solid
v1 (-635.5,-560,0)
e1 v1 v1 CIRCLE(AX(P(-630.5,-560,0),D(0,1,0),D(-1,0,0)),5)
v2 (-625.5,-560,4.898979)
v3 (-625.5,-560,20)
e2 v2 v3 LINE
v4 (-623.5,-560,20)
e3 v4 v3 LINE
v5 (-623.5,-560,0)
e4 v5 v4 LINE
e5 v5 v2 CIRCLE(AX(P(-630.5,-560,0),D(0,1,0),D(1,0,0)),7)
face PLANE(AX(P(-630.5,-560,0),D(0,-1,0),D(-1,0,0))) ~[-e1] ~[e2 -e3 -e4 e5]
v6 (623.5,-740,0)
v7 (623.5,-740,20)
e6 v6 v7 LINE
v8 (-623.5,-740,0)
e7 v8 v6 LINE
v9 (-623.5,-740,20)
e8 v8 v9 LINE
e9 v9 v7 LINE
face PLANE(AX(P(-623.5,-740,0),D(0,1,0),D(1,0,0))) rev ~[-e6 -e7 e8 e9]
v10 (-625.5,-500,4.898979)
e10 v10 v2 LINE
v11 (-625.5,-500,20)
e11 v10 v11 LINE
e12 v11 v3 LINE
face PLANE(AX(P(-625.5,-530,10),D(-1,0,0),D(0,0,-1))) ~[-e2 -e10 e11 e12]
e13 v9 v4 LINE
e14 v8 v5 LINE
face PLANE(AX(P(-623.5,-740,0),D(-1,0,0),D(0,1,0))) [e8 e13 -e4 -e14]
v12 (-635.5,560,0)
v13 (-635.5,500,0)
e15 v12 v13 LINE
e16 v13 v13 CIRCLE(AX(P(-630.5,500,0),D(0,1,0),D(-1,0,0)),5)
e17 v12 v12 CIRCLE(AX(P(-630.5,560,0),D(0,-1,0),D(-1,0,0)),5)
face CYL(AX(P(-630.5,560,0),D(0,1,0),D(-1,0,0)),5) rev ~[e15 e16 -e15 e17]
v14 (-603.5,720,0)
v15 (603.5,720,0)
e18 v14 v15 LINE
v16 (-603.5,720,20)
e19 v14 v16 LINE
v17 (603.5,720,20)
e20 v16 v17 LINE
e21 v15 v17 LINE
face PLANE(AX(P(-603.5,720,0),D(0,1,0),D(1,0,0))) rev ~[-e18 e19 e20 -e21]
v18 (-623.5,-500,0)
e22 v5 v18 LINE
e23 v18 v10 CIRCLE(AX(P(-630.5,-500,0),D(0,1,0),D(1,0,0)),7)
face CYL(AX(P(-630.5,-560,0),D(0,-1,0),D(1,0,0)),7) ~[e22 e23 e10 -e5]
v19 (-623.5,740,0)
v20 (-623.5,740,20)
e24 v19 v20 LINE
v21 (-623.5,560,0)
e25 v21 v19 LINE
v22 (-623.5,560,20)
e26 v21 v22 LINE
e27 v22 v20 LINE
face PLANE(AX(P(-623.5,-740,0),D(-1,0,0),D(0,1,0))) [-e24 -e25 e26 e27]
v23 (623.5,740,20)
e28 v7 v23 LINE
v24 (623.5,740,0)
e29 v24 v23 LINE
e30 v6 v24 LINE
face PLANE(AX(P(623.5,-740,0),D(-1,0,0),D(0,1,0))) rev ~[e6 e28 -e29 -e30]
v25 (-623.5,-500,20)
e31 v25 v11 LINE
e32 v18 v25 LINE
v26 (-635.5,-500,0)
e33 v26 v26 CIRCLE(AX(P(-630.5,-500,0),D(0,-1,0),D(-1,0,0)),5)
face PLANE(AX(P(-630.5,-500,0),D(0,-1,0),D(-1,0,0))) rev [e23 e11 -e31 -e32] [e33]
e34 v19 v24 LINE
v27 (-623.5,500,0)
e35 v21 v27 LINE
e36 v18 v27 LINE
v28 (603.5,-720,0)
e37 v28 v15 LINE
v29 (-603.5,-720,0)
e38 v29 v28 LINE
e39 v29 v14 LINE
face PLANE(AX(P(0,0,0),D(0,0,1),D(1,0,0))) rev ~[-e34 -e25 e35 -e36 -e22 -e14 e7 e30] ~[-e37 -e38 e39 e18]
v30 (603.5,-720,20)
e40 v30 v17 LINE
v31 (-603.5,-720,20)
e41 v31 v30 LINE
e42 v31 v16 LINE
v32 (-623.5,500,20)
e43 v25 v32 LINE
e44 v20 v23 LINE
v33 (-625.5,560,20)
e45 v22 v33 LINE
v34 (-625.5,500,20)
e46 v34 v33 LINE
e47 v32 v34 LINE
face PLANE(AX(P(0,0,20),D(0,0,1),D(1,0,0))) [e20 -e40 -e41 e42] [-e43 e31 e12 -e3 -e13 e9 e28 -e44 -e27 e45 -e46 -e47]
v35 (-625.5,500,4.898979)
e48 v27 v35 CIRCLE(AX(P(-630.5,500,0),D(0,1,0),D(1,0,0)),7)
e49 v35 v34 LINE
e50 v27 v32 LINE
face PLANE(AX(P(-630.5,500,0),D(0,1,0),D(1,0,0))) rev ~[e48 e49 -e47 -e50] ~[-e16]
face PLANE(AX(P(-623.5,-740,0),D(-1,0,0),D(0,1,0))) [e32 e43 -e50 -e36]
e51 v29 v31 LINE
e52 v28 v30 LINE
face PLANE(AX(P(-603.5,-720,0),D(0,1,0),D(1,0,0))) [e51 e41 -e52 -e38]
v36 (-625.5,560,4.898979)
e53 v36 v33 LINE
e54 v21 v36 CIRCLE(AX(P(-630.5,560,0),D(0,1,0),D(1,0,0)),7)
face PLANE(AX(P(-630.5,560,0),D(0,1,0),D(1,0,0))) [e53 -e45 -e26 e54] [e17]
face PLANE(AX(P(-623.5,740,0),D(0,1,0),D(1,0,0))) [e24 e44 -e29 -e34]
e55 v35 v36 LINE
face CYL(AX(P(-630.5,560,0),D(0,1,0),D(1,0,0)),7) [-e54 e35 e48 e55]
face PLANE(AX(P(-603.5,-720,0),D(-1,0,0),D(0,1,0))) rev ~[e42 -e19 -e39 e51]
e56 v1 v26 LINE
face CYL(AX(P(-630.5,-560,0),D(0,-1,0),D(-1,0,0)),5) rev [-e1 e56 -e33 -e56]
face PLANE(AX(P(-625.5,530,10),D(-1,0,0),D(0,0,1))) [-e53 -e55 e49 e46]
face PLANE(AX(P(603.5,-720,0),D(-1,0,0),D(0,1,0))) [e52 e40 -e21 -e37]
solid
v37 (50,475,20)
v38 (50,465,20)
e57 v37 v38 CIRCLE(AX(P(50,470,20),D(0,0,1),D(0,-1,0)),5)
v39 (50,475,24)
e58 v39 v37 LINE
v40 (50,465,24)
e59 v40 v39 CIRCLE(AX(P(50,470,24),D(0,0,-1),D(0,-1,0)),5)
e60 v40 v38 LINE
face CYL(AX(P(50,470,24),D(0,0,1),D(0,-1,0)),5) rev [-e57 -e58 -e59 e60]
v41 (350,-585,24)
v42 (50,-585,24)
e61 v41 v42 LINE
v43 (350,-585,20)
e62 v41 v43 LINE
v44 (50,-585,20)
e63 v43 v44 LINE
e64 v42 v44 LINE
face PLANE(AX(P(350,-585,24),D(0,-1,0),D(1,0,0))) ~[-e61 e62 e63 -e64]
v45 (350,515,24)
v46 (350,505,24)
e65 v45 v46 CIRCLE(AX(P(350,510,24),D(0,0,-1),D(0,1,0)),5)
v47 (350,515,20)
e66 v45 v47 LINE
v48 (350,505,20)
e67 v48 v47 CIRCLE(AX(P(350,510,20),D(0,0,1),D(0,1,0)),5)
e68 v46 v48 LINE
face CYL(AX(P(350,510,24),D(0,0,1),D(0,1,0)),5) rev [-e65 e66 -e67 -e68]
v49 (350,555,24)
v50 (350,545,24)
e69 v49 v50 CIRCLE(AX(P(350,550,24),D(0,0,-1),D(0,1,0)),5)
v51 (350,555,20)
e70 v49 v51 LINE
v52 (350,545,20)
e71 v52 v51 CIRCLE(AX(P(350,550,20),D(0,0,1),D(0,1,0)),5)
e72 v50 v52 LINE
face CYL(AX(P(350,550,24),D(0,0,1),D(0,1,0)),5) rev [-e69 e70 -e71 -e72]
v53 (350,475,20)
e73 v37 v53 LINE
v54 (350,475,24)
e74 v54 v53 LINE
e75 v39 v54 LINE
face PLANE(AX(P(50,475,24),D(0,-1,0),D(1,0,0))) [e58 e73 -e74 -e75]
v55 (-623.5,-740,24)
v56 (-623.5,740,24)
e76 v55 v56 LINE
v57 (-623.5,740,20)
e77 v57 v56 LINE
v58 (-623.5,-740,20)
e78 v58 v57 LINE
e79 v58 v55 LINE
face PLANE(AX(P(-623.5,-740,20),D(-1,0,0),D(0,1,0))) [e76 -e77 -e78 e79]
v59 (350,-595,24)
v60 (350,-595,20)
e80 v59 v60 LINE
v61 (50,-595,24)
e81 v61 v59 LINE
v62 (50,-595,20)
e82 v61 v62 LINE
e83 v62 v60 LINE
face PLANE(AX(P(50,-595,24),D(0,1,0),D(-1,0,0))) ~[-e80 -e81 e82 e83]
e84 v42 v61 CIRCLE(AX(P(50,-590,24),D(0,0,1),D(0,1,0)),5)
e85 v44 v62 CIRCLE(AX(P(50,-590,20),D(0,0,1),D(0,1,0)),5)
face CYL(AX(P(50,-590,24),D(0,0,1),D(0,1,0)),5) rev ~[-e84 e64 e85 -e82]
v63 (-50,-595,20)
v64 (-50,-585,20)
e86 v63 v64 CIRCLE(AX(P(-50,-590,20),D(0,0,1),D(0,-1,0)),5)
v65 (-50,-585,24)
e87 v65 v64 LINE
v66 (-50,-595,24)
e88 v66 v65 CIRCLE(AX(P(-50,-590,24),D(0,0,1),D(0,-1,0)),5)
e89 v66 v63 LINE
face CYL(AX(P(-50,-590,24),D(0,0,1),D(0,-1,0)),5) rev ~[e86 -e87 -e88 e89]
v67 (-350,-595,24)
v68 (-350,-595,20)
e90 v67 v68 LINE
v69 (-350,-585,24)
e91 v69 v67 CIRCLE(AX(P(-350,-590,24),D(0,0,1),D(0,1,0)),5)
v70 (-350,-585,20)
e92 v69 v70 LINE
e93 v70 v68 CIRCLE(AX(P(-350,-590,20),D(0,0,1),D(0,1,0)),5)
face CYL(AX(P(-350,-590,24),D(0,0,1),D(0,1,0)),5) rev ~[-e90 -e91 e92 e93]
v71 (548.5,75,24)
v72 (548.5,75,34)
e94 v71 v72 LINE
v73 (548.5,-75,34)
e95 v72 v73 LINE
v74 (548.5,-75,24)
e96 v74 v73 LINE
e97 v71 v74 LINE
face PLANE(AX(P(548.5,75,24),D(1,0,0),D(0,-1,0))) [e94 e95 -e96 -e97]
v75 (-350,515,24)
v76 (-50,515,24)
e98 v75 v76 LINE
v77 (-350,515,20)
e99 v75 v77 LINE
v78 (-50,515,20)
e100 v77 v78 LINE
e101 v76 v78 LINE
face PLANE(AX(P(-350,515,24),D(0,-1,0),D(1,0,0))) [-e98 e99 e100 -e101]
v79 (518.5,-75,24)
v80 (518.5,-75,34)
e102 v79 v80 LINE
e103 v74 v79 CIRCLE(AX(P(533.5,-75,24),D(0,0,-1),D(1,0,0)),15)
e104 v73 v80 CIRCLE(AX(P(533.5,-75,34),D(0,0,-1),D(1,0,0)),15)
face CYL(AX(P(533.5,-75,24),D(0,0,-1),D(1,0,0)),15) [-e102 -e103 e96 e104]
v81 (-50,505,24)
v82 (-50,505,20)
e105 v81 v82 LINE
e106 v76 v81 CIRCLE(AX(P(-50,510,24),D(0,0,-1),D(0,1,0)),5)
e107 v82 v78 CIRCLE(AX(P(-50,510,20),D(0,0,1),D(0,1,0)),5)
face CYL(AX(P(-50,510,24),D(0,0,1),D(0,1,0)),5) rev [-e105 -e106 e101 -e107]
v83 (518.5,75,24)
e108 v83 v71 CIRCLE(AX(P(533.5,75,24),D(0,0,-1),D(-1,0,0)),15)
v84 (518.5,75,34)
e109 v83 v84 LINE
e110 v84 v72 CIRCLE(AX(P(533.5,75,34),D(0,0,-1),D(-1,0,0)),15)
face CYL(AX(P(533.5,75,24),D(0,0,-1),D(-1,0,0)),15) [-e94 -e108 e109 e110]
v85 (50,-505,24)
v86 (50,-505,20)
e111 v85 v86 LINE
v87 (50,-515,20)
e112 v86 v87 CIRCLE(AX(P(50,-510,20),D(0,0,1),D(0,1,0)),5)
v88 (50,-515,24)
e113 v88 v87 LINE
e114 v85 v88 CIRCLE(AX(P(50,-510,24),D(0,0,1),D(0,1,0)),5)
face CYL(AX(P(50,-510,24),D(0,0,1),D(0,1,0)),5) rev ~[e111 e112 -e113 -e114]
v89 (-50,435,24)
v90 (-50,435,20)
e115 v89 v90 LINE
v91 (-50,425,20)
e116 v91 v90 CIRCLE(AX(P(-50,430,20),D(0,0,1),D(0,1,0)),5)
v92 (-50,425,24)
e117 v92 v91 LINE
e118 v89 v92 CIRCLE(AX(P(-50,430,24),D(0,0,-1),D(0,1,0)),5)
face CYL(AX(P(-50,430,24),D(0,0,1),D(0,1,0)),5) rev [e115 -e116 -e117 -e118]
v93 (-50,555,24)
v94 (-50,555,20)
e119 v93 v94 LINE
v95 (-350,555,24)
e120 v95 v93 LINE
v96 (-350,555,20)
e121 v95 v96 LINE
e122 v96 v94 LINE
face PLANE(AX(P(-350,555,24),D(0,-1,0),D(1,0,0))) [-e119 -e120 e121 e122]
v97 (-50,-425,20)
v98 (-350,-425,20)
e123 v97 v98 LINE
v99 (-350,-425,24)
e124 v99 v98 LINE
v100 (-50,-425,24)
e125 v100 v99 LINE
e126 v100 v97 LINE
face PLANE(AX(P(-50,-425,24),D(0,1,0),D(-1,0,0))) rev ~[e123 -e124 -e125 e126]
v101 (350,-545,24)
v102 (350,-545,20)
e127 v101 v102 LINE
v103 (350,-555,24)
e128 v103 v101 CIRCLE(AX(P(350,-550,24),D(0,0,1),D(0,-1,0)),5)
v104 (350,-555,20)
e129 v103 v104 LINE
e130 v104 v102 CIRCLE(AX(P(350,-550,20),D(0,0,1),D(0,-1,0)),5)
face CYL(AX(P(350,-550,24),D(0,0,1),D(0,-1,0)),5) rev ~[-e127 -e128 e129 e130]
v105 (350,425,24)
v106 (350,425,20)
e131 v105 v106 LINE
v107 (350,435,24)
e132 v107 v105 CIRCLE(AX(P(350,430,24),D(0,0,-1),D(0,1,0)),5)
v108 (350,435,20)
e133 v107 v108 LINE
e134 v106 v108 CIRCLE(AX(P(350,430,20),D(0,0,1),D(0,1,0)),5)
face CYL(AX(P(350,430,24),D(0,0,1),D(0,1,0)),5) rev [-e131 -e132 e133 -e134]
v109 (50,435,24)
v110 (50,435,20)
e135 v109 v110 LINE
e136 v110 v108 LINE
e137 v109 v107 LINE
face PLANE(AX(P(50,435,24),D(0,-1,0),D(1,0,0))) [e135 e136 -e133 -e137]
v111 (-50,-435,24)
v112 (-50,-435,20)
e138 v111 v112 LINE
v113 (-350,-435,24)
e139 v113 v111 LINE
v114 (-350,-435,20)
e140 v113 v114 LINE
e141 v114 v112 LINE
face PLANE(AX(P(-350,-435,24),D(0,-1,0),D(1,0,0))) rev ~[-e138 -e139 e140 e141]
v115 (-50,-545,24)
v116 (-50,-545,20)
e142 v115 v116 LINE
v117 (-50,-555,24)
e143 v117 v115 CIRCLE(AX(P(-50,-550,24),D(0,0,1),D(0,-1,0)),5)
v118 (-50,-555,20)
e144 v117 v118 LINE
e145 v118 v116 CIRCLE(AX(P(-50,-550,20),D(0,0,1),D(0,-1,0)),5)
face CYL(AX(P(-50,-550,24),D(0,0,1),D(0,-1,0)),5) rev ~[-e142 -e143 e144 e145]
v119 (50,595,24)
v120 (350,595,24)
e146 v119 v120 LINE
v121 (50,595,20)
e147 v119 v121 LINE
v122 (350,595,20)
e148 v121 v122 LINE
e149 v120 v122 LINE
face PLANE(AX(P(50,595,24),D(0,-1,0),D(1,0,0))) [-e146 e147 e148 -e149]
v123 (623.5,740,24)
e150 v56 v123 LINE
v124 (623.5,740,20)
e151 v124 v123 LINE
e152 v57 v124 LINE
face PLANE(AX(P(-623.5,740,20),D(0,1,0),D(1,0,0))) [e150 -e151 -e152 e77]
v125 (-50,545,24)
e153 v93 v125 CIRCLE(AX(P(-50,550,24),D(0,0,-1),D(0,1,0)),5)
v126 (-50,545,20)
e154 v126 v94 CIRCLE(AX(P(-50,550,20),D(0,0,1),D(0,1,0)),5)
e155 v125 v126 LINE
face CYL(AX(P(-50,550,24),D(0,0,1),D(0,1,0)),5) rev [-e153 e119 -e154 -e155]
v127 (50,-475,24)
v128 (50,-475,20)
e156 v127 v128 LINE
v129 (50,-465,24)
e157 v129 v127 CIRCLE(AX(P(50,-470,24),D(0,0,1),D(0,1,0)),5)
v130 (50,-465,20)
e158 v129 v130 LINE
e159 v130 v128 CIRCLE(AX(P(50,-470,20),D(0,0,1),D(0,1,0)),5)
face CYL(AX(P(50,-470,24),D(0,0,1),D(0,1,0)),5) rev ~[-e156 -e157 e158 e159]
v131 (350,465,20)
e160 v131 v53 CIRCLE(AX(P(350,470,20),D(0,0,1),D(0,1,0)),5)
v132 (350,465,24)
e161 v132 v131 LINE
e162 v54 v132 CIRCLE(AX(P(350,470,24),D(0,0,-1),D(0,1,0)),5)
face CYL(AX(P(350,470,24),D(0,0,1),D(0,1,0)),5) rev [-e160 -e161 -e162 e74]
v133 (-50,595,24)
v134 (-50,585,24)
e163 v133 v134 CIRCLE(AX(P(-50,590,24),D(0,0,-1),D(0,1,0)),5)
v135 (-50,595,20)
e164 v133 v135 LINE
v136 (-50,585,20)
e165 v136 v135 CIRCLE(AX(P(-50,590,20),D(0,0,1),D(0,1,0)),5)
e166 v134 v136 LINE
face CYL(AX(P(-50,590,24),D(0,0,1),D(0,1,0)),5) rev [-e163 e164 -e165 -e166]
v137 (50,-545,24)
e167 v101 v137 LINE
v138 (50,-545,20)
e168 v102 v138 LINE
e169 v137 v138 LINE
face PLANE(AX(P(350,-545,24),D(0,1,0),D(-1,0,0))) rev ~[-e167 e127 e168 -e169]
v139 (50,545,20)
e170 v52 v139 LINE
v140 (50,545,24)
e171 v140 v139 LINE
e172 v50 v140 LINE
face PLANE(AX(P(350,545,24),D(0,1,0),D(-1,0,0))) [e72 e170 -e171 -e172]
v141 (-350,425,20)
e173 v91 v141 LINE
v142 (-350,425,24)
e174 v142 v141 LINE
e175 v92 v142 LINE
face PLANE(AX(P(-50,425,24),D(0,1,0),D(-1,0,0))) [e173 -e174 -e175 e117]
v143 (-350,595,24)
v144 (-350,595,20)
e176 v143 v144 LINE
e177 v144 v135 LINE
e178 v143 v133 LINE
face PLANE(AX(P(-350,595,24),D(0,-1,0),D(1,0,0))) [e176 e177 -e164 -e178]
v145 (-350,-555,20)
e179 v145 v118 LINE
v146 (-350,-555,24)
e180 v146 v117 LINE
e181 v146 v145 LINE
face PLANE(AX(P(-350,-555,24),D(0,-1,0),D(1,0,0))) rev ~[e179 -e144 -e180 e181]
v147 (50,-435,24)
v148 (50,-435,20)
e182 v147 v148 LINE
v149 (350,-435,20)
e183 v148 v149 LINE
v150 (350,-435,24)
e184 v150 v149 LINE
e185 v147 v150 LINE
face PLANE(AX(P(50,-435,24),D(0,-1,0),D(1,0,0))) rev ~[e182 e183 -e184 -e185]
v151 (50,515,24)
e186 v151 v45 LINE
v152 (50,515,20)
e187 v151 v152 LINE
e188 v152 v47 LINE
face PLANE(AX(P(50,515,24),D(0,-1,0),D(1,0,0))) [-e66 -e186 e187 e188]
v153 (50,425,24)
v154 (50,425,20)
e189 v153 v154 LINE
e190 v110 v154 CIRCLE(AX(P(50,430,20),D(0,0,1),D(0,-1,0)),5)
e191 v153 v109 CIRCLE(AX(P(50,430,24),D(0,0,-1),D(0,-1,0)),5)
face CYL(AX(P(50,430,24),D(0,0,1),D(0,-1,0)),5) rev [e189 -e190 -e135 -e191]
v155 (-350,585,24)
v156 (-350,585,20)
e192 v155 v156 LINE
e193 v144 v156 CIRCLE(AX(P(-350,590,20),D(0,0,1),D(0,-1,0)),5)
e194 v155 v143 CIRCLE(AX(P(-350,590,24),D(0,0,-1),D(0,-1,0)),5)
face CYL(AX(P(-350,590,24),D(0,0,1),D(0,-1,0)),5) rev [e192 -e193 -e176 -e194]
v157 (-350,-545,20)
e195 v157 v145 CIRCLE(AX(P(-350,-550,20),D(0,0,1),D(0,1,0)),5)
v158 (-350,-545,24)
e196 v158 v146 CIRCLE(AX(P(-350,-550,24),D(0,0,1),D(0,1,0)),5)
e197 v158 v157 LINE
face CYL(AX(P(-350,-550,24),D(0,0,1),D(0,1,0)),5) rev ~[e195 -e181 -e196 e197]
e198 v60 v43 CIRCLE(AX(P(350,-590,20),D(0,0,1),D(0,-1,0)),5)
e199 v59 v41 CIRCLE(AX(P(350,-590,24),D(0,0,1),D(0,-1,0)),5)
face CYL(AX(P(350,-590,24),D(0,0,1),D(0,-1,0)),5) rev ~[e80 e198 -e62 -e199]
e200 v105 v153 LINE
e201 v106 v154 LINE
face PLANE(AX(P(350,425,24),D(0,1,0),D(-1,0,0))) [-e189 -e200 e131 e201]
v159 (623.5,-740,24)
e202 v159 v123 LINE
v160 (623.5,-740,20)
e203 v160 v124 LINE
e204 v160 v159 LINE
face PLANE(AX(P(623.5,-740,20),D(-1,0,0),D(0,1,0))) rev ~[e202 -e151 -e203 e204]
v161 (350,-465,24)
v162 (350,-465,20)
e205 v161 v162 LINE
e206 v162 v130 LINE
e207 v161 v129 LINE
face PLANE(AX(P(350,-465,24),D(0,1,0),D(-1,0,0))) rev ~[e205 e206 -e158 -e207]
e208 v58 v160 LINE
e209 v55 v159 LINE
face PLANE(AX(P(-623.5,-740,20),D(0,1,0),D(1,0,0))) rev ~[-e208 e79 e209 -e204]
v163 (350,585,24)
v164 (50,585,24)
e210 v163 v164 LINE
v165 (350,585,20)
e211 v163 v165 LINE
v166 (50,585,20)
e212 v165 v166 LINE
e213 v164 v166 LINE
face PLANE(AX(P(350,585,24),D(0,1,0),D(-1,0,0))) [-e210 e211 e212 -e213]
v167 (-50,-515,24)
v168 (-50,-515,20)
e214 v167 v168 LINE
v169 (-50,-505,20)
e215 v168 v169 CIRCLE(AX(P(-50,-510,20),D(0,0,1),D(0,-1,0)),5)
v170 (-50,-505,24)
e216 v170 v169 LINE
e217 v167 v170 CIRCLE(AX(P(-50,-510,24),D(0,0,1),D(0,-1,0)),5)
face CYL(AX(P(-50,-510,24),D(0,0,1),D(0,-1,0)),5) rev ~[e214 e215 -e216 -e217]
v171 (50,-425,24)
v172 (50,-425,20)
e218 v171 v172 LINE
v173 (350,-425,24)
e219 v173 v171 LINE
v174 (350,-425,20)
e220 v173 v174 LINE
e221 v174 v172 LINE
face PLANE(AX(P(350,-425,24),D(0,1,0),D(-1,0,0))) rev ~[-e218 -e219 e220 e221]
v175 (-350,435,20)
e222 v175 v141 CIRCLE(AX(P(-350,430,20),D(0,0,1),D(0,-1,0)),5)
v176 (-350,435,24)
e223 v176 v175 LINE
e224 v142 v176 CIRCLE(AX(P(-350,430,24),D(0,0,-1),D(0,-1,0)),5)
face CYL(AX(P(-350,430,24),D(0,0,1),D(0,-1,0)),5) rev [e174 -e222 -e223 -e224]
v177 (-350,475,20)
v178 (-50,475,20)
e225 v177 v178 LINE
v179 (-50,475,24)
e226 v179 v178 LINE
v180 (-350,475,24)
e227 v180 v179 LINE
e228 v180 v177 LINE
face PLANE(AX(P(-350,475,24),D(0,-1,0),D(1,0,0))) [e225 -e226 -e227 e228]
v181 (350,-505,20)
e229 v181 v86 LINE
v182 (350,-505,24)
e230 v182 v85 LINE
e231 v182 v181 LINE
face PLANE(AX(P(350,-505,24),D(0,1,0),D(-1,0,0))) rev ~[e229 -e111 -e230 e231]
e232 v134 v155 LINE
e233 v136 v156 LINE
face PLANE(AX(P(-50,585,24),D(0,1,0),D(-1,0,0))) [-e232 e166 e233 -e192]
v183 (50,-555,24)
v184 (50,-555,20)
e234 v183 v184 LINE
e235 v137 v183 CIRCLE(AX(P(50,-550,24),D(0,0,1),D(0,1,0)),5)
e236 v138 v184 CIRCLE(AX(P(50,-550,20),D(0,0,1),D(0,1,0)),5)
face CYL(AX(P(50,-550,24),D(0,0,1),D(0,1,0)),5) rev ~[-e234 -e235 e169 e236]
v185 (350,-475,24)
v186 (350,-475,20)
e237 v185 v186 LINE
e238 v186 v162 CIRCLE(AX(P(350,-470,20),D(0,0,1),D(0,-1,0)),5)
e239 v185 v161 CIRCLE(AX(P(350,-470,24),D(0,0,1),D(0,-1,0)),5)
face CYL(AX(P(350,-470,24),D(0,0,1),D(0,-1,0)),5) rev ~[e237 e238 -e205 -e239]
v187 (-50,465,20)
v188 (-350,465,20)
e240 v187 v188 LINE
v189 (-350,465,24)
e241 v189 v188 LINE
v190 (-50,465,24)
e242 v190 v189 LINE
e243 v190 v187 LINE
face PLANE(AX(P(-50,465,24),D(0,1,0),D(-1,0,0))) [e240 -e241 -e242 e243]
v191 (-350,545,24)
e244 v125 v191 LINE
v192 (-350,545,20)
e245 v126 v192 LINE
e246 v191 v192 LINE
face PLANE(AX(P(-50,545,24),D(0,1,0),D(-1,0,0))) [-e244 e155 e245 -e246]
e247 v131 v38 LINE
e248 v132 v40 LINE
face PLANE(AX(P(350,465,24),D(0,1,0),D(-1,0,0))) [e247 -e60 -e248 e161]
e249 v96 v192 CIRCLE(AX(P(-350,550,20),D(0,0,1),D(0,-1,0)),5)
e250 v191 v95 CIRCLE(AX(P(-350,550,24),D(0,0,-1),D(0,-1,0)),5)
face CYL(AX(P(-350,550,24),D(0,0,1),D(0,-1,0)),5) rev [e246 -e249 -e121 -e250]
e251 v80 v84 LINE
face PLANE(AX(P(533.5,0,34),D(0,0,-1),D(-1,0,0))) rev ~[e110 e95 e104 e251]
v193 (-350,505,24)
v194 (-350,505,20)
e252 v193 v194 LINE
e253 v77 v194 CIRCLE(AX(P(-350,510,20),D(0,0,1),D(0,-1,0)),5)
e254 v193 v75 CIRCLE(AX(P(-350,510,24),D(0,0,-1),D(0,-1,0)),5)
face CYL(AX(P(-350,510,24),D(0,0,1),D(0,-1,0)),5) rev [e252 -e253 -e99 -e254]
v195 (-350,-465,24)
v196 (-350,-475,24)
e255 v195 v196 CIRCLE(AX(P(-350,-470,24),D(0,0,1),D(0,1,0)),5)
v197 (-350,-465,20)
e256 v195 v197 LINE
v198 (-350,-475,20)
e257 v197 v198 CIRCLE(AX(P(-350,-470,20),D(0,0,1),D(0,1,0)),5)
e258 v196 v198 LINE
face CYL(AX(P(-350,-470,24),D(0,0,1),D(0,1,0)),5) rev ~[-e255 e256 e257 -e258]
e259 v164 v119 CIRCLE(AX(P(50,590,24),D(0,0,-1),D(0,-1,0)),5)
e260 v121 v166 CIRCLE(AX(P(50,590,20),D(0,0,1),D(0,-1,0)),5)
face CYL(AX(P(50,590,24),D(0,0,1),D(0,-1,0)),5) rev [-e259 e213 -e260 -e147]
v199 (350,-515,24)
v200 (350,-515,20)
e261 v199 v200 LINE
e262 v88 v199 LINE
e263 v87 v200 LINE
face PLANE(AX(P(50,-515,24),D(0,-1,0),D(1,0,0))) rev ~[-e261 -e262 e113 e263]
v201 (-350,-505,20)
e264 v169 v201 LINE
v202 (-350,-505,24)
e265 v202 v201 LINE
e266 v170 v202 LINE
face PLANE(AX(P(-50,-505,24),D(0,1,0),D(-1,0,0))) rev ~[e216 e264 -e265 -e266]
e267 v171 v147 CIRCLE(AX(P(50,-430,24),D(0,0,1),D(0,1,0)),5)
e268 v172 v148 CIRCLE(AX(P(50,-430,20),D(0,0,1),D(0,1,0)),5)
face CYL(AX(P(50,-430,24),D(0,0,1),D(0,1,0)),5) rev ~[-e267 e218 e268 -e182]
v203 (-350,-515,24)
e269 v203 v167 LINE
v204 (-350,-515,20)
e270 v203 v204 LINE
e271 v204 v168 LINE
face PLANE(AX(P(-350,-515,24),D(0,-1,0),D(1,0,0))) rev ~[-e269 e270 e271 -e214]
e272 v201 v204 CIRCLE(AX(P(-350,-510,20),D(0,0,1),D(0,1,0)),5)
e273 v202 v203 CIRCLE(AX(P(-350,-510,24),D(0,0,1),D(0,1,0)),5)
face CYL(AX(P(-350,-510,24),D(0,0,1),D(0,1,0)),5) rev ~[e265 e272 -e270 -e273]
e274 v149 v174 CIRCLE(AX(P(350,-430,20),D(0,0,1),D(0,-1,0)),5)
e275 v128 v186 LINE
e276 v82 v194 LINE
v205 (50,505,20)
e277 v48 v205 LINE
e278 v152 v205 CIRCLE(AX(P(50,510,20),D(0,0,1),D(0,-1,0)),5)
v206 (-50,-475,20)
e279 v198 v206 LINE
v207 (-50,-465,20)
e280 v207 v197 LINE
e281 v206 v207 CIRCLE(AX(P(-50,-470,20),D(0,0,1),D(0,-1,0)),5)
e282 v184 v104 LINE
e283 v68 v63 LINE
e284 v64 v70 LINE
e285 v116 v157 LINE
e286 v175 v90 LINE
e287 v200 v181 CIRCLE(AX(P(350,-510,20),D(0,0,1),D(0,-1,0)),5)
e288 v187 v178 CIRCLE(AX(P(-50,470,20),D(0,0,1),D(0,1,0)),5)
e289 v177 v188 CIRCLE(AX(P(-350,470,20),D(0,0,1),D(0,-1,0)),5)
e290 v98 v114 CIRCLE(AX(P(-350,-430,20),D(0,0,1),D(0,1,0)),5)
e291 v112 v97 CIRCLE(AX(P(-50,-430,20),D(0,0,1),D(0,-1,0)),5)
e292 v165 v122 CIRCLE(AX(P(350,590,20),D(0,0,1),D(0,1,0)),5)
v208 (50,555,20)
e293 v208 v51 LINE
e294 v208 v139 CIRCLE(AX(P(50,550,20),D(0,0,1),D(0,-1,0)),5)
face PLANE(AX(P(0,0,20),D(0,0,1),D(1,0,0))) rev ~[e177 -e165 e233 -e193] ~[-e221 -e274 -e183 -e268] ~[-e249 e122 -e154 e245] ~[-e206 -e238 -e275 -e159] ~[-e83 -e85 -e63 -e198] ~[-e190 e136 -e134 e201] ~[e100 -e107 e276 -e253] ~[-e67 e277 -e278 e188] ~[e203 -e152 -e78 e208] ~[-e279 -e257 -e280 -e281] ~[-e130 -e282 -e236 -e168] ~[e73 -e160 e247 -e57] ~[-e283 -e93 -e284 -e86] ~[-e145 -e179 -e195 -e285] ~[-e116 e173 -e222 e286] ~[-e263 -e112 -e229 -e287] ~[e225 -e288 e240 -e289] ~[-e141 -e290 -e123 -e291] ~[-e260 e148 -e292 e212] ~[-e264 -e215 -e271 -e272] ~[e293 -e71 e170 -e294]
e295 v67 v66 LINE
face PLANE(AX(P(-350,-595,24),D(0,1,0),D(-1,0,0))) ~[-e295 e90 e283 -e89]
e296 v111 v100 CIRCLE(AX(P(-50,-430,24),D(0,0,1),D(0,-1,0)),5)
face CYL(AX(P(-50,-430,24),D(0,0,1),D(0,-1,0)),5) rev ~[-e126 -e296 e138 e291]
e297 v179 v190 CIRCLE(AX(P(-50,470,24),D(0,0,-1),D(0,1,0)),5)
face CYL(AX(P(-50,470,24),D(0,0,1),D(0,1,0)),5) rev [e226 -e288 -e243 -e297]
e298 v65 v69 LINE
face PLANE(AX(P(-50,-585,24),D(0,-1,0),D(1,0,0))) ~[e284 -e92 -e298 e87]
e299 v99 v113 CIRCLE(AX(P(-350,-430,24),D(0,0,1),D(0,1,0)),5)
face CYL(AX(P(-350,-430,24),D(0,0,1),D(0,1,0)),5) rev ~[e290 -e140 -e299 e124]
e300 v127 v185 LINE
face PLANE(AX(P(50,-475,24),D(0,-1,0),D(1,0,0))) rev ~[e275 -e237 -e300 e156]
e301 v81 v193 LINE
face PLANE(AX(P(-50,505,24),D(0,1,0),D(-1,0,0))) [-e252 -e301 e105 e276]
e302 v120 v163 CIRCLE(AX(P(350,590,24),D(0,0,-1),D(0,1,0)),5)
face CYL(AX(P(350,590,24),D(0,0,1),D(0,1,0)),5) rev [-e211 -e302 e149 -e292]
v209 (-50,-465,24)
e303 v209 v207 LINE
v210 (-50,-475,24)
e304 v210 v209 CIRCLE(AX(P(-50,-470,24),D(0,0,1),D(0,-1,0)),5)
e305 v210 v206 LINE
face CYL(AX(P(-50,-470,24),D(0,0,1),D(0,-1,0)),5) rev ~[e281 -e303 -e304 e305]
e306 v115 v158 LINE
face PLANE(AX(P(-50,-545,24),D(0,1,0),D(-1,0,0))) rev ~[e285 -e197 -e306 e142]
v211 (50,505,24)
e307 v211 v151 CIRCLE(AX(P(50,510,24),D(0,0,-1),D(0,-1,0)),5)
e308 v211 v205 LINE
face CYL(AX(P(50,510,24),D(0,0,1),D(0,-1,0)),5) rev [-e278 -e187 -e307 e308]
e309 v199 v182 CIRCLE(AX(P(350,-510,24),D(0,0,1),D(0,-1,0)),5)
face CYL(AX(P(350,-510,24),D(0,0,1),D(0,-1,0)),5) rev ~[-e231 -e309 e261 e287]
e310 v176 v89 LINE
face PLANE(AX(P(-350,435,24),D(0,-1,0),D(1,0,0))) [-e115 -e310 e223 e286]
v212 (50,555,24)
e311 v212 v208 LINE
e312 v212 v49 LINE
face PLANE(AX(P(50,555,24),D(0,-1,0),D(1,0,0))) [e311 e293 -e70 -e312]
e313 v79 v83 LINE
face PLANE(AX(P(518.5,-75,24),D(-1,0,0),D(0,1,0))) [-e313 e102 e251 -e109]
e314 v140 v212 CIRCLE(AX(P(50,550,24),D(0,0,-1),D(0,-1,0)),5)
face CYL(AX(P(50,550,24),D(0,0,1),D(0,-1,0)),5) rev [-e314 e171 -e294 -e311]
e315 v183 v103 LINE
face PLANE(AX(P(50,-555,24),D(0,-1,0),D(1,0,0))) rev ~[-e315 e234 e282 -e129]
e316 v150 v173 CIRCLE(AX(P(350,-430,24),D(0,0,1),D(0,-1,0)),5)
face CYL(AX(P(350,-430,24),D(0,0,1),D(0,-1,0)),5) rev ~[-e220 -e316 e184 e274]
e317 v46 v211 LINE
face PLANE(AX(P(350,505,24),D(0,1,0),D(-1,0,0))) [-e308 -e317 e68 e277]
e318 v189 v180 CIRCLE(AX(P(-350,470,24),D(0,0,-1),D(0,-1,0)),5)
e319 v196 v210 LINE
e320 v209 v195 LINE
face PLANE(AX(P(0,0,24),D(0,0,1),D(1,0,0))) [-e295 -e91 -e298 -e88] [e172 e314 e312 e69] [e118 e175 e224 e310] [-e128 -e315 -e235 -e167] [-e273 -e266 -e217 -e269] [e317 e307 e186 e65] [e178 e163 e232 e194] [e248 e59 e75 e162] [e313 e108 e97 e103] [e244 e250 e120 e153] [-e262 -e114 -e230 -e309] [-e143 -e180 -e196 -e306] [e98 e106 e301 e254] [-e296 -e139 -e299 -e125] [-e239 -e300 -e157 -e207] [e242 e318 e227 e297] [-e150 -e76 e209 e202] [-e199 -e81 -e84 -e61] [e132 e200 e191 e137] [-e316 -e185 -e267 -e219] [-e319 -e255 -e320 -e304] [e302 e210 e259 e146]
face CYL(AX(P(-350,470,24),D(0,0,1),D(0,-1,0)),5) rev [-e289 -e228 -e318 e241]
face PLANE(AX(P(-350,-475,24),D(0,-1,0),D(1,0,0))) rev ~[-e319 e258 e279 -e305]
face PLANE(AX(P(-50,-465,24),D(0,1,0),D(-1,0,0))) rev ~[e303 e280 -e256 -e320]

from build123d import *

# Parameters (mm, degrees)
SKETCH1_W            = 1247
SKETCH1_H            = 1480
SKETCH1_W_2          = 1207
SKETCH1_H_2          = 1440
BOSS_EXTRUDE1_DEPTH  = 20
SKETCH3_W            = 20
SKETCH3_H            = 60
BOSS_EXTRUDE2_DEPTH  = 2
SKETCH4_R            = 7
SKETCH4_R_2          = 5
BOSS_EXTRUDE3_DEPTH  = 60
SKETCH5_W            = 1247
SKETCH5_H            = 1480
BOSS_EXTRUDE4_DEPTH  = 4
BOSS_EXTRUDE5_DEPTH  = 10
CUT_EXTRUDE1_DEPTH   = 978.224257783
LPATTERN1_COUNT      = 5
LPATTERN1_PITCH      = 40
MIRROR2_COPY_1_DEPTH = 978.224257783
MIRROR2_COPY_2_DEPTH = 978.224257783
MIRROR2_COPY_3_DEPTH = 978.224257783
MIRROR2_COPY_4_DEPTH = 978.224257783


with BuildPart() as part:
    # Sketch1 → Boss-Extrude1 (new body)
    with BuildSketch(Plane.XY):
        Rectangle(SKETCH1_W, SKETCH1_H)
        Rectangle(SKETCH1_W_2, SKETCH1_H_2, mode=Mode.SUBTRACT)
    extrude(amount=BOSS_EXTRUDE1_DEPTH)

    # Sketch3 → Boss-Extrude2 (add)
    with BuildSketch(Plane.ZY.offset(623.5)):
        with Locations((10, 530)):
            Rectangle(SKETCH3_W, SKETCH3_H)
    boss_extrude2 = extrude(amount=BOSS_EXTRUDE2_DEPTH)

    # Sketch4 → Boss-Extrude3 (add)
    with BuildSketch(Plane(origin=(0, 560, 0), x_dir=(1, 0, 0), z_dir=(0, 1, 0))):
        with Locations((-630.5, 0)):
            Circle(SKETCH4_R)
        with Locations(Location((-630.5, 0, 0), (0, 0, 180))):
            Circle(SKETCH4_R_2, mode=Mode.SUBTRACT)
    boss_extrude3 = extrude(amount=-BOSS_EXTRUDE3_DEPTH)

    # Mirror1: Boss-Extrude2, Boss-Extrude3 across plane
    add(boss_extrude2.mirror(Plane.ZX))
    add(boss_extrude3.mirror(Plane.ZX))


with BuildPart() as body_2:
    # Sketch5 → Boss-Extrude4 (new body)
    with BuildSketch(Plane.XY.offset(20)):
        Rectangle(SKETCH5_W, SKETCH5_H)
    extrude(amount=BOSS_EXTRUDE4_DEPTH)

    # Sketch6 → Boss-Extrude5 (add)
    with BuildSketch(Plane.XY.offset(24)):
        with BuildLine():
            Line((548.5, 75), (548.5, -75))
            ThreePointArc((548.5, -75), (533.5, -90), (518.5, -75))
            Line((518.5, -75), (518.5, 75))
            ThreePointArc((518.5, 75), (533.5, 90), (548.5, 75))
        make_face()
    extrude(amount=BOSS_EXTRUDE5_DEPTH)

    # Sketch7 → Cut-Extrude1 (cut, through all)
    with BuildSketch(Plane.XY.offset(24)):
        with BuildLine():
            Line((-350, 595), (-50, 595))
            ThreePointArc((-50, 595), (-45, 590), (-50, 585))
            Line((-50, 585), (-350, 585))
            ThreePointArc((-350, 585), (-355, 590), (-350, 595))
        make_face()
        with BuildLine():
            Line((50, 595), (350, 595))
            ThreePointArc((350, 595), (355, 590), (350, 585))
            Line((350, 585), (50, 585))
            ThreePointArc((50, 585), (45, 590), (50, 595))
        make_face()
    cut_extrude1 = extrude(amount=-CUT_EXTRUDE1_DEPTH, mode=Mode.SUBTRACT)

    # LPattern1: Cut-Extrude1 ×5
    with Locations(*[(0, -i * LPATTERN1_PITCH, 0) for i in range(1, LPATTERN1_COUNT)]):
        add(cut_extrude1, mode=Mode.SUBTRACT)

    # Mirror2: Cut-Extrude1 across plane
    add(cut_extrude1.mirror(Plane.ZX), mode=Mode.SUBTRACT)

    # Mirror2 copy 1 sketch → Mirror2 copy 1 (cut, through all)
    with BuildSketch(Plane(origin=(0, 40, 24), x_dir=(1, 0, 0), z_dir=(0, 0, 1))):
        with BuildLine():
            Line((-350, -595), (-50, -595))
            ThreePointArc((-50, -595), (-45, -590), (-50, -585))
            Line((-50, -585), (-350, -585))
            ThreePointArc((-350, -585), (-355, -590), (-350, -595))
        make_face()
        with BuildLine():
            Line((50, -595), (350, -595))
            ThreePointArc((350, -595), (355, -590), (350, -585))
            Line((350, -585), (50, -585))
            ThreePointArc((50, -585), (45, -590), (50, -595))
        make_face()
    extrude(amount=-MIRROR2_COPY_1_DEPTH, mode=Mode.SUBTRACT)

    # Mirror2 copy 2 sketch → Mirror2 copy 2 (cut, through all)
    with BuildSketch(Plane(origin=(0, 80, 24), x_dir=(1, 0, 0), z_dir=(0, 0, 1))):
        with BuildLine():
            Line((-350, -595), (-50, -595))
            ThreePointArc((-50, -595), (-45, -590), (-50, -585))
            Line((-50, -585), (-350, -585))
            ThreePointArc((-350, -585), (-355, -590), (-350, -595))
        make_face()
        with BuildLine():
            Line((50, -595), (350, -595))
            ThreePointArc((350, -595), (355, -590), (350, -585))
            Line((350, -585), (50, -585))
            ThreePointArc((50, -585), (45, -590), (50, -595))
        make_face()
    extrude(amount=-MIRROR2_COPY_2_DEPTH, mode=Mode.SUBTRACT)

    # Mirror2 copy 3 sketch → Mirror2 copy 3 (cut, through all)
    with BuildSketch(Plane(origin=(0, 120, 24), x_dir=(1, 0, 0), z_dir=(0, 0, 1))):
        with BuildLine():
            Line((-350, -595), (-50, -595))
            ThreePointArc((-50, -595), (-45, -590), (-50, -585))
            Line((-50, -585), (-350, -585))
            ThreePointArc((-350, -585), (-355, -590), (-350, -595))
        make_face()
        with BuildLine():
            Line((50, -595), (350, -595))
            ThreePointArc((350, -595), (355, -590), (350, -585))
            Line((350, -585), (50, -585))
            ThreePointArc((50, -585), (45, -590), (50, -595))
        make_face()
    extrude(amount=-MIRROR2_COPY_3_DEPTH, mode=Mode.SUBTRACT)

    # Mirror2 copy 4 sketch → Mirror2 copy 4 (cut, through all)
    with BuildSketch(Plane(origin=(0, 160, 24), x_dir=(1, 0, 0), z_dir=(0, 0, 1))):
        with BuildLine():
            Line((-350, -595), (-50, -595))
            ThreePointArc((-50, -595), (-45, -590), (-50, -585))
            Line((-50, -585), (-350, -585))
            ThreePointArc((-350, -585), (-355, -590), (-350, -595))
        make_face()
        with BuildLine():
            Line((50, -595), (350, -595))
            ThreePointArc((350, -595), (355, -590), (350, -585))
            Line((350, -585), (50, -585))
            ThreePointArc((50, -585), (45, -590), (50, -595))
        make_face()
    extrude(amount=-MIRROR2_COPY_4_DEPTH, mode=Mode.SUBTRACT)


solid = Compound([part.part, body_2.part])
